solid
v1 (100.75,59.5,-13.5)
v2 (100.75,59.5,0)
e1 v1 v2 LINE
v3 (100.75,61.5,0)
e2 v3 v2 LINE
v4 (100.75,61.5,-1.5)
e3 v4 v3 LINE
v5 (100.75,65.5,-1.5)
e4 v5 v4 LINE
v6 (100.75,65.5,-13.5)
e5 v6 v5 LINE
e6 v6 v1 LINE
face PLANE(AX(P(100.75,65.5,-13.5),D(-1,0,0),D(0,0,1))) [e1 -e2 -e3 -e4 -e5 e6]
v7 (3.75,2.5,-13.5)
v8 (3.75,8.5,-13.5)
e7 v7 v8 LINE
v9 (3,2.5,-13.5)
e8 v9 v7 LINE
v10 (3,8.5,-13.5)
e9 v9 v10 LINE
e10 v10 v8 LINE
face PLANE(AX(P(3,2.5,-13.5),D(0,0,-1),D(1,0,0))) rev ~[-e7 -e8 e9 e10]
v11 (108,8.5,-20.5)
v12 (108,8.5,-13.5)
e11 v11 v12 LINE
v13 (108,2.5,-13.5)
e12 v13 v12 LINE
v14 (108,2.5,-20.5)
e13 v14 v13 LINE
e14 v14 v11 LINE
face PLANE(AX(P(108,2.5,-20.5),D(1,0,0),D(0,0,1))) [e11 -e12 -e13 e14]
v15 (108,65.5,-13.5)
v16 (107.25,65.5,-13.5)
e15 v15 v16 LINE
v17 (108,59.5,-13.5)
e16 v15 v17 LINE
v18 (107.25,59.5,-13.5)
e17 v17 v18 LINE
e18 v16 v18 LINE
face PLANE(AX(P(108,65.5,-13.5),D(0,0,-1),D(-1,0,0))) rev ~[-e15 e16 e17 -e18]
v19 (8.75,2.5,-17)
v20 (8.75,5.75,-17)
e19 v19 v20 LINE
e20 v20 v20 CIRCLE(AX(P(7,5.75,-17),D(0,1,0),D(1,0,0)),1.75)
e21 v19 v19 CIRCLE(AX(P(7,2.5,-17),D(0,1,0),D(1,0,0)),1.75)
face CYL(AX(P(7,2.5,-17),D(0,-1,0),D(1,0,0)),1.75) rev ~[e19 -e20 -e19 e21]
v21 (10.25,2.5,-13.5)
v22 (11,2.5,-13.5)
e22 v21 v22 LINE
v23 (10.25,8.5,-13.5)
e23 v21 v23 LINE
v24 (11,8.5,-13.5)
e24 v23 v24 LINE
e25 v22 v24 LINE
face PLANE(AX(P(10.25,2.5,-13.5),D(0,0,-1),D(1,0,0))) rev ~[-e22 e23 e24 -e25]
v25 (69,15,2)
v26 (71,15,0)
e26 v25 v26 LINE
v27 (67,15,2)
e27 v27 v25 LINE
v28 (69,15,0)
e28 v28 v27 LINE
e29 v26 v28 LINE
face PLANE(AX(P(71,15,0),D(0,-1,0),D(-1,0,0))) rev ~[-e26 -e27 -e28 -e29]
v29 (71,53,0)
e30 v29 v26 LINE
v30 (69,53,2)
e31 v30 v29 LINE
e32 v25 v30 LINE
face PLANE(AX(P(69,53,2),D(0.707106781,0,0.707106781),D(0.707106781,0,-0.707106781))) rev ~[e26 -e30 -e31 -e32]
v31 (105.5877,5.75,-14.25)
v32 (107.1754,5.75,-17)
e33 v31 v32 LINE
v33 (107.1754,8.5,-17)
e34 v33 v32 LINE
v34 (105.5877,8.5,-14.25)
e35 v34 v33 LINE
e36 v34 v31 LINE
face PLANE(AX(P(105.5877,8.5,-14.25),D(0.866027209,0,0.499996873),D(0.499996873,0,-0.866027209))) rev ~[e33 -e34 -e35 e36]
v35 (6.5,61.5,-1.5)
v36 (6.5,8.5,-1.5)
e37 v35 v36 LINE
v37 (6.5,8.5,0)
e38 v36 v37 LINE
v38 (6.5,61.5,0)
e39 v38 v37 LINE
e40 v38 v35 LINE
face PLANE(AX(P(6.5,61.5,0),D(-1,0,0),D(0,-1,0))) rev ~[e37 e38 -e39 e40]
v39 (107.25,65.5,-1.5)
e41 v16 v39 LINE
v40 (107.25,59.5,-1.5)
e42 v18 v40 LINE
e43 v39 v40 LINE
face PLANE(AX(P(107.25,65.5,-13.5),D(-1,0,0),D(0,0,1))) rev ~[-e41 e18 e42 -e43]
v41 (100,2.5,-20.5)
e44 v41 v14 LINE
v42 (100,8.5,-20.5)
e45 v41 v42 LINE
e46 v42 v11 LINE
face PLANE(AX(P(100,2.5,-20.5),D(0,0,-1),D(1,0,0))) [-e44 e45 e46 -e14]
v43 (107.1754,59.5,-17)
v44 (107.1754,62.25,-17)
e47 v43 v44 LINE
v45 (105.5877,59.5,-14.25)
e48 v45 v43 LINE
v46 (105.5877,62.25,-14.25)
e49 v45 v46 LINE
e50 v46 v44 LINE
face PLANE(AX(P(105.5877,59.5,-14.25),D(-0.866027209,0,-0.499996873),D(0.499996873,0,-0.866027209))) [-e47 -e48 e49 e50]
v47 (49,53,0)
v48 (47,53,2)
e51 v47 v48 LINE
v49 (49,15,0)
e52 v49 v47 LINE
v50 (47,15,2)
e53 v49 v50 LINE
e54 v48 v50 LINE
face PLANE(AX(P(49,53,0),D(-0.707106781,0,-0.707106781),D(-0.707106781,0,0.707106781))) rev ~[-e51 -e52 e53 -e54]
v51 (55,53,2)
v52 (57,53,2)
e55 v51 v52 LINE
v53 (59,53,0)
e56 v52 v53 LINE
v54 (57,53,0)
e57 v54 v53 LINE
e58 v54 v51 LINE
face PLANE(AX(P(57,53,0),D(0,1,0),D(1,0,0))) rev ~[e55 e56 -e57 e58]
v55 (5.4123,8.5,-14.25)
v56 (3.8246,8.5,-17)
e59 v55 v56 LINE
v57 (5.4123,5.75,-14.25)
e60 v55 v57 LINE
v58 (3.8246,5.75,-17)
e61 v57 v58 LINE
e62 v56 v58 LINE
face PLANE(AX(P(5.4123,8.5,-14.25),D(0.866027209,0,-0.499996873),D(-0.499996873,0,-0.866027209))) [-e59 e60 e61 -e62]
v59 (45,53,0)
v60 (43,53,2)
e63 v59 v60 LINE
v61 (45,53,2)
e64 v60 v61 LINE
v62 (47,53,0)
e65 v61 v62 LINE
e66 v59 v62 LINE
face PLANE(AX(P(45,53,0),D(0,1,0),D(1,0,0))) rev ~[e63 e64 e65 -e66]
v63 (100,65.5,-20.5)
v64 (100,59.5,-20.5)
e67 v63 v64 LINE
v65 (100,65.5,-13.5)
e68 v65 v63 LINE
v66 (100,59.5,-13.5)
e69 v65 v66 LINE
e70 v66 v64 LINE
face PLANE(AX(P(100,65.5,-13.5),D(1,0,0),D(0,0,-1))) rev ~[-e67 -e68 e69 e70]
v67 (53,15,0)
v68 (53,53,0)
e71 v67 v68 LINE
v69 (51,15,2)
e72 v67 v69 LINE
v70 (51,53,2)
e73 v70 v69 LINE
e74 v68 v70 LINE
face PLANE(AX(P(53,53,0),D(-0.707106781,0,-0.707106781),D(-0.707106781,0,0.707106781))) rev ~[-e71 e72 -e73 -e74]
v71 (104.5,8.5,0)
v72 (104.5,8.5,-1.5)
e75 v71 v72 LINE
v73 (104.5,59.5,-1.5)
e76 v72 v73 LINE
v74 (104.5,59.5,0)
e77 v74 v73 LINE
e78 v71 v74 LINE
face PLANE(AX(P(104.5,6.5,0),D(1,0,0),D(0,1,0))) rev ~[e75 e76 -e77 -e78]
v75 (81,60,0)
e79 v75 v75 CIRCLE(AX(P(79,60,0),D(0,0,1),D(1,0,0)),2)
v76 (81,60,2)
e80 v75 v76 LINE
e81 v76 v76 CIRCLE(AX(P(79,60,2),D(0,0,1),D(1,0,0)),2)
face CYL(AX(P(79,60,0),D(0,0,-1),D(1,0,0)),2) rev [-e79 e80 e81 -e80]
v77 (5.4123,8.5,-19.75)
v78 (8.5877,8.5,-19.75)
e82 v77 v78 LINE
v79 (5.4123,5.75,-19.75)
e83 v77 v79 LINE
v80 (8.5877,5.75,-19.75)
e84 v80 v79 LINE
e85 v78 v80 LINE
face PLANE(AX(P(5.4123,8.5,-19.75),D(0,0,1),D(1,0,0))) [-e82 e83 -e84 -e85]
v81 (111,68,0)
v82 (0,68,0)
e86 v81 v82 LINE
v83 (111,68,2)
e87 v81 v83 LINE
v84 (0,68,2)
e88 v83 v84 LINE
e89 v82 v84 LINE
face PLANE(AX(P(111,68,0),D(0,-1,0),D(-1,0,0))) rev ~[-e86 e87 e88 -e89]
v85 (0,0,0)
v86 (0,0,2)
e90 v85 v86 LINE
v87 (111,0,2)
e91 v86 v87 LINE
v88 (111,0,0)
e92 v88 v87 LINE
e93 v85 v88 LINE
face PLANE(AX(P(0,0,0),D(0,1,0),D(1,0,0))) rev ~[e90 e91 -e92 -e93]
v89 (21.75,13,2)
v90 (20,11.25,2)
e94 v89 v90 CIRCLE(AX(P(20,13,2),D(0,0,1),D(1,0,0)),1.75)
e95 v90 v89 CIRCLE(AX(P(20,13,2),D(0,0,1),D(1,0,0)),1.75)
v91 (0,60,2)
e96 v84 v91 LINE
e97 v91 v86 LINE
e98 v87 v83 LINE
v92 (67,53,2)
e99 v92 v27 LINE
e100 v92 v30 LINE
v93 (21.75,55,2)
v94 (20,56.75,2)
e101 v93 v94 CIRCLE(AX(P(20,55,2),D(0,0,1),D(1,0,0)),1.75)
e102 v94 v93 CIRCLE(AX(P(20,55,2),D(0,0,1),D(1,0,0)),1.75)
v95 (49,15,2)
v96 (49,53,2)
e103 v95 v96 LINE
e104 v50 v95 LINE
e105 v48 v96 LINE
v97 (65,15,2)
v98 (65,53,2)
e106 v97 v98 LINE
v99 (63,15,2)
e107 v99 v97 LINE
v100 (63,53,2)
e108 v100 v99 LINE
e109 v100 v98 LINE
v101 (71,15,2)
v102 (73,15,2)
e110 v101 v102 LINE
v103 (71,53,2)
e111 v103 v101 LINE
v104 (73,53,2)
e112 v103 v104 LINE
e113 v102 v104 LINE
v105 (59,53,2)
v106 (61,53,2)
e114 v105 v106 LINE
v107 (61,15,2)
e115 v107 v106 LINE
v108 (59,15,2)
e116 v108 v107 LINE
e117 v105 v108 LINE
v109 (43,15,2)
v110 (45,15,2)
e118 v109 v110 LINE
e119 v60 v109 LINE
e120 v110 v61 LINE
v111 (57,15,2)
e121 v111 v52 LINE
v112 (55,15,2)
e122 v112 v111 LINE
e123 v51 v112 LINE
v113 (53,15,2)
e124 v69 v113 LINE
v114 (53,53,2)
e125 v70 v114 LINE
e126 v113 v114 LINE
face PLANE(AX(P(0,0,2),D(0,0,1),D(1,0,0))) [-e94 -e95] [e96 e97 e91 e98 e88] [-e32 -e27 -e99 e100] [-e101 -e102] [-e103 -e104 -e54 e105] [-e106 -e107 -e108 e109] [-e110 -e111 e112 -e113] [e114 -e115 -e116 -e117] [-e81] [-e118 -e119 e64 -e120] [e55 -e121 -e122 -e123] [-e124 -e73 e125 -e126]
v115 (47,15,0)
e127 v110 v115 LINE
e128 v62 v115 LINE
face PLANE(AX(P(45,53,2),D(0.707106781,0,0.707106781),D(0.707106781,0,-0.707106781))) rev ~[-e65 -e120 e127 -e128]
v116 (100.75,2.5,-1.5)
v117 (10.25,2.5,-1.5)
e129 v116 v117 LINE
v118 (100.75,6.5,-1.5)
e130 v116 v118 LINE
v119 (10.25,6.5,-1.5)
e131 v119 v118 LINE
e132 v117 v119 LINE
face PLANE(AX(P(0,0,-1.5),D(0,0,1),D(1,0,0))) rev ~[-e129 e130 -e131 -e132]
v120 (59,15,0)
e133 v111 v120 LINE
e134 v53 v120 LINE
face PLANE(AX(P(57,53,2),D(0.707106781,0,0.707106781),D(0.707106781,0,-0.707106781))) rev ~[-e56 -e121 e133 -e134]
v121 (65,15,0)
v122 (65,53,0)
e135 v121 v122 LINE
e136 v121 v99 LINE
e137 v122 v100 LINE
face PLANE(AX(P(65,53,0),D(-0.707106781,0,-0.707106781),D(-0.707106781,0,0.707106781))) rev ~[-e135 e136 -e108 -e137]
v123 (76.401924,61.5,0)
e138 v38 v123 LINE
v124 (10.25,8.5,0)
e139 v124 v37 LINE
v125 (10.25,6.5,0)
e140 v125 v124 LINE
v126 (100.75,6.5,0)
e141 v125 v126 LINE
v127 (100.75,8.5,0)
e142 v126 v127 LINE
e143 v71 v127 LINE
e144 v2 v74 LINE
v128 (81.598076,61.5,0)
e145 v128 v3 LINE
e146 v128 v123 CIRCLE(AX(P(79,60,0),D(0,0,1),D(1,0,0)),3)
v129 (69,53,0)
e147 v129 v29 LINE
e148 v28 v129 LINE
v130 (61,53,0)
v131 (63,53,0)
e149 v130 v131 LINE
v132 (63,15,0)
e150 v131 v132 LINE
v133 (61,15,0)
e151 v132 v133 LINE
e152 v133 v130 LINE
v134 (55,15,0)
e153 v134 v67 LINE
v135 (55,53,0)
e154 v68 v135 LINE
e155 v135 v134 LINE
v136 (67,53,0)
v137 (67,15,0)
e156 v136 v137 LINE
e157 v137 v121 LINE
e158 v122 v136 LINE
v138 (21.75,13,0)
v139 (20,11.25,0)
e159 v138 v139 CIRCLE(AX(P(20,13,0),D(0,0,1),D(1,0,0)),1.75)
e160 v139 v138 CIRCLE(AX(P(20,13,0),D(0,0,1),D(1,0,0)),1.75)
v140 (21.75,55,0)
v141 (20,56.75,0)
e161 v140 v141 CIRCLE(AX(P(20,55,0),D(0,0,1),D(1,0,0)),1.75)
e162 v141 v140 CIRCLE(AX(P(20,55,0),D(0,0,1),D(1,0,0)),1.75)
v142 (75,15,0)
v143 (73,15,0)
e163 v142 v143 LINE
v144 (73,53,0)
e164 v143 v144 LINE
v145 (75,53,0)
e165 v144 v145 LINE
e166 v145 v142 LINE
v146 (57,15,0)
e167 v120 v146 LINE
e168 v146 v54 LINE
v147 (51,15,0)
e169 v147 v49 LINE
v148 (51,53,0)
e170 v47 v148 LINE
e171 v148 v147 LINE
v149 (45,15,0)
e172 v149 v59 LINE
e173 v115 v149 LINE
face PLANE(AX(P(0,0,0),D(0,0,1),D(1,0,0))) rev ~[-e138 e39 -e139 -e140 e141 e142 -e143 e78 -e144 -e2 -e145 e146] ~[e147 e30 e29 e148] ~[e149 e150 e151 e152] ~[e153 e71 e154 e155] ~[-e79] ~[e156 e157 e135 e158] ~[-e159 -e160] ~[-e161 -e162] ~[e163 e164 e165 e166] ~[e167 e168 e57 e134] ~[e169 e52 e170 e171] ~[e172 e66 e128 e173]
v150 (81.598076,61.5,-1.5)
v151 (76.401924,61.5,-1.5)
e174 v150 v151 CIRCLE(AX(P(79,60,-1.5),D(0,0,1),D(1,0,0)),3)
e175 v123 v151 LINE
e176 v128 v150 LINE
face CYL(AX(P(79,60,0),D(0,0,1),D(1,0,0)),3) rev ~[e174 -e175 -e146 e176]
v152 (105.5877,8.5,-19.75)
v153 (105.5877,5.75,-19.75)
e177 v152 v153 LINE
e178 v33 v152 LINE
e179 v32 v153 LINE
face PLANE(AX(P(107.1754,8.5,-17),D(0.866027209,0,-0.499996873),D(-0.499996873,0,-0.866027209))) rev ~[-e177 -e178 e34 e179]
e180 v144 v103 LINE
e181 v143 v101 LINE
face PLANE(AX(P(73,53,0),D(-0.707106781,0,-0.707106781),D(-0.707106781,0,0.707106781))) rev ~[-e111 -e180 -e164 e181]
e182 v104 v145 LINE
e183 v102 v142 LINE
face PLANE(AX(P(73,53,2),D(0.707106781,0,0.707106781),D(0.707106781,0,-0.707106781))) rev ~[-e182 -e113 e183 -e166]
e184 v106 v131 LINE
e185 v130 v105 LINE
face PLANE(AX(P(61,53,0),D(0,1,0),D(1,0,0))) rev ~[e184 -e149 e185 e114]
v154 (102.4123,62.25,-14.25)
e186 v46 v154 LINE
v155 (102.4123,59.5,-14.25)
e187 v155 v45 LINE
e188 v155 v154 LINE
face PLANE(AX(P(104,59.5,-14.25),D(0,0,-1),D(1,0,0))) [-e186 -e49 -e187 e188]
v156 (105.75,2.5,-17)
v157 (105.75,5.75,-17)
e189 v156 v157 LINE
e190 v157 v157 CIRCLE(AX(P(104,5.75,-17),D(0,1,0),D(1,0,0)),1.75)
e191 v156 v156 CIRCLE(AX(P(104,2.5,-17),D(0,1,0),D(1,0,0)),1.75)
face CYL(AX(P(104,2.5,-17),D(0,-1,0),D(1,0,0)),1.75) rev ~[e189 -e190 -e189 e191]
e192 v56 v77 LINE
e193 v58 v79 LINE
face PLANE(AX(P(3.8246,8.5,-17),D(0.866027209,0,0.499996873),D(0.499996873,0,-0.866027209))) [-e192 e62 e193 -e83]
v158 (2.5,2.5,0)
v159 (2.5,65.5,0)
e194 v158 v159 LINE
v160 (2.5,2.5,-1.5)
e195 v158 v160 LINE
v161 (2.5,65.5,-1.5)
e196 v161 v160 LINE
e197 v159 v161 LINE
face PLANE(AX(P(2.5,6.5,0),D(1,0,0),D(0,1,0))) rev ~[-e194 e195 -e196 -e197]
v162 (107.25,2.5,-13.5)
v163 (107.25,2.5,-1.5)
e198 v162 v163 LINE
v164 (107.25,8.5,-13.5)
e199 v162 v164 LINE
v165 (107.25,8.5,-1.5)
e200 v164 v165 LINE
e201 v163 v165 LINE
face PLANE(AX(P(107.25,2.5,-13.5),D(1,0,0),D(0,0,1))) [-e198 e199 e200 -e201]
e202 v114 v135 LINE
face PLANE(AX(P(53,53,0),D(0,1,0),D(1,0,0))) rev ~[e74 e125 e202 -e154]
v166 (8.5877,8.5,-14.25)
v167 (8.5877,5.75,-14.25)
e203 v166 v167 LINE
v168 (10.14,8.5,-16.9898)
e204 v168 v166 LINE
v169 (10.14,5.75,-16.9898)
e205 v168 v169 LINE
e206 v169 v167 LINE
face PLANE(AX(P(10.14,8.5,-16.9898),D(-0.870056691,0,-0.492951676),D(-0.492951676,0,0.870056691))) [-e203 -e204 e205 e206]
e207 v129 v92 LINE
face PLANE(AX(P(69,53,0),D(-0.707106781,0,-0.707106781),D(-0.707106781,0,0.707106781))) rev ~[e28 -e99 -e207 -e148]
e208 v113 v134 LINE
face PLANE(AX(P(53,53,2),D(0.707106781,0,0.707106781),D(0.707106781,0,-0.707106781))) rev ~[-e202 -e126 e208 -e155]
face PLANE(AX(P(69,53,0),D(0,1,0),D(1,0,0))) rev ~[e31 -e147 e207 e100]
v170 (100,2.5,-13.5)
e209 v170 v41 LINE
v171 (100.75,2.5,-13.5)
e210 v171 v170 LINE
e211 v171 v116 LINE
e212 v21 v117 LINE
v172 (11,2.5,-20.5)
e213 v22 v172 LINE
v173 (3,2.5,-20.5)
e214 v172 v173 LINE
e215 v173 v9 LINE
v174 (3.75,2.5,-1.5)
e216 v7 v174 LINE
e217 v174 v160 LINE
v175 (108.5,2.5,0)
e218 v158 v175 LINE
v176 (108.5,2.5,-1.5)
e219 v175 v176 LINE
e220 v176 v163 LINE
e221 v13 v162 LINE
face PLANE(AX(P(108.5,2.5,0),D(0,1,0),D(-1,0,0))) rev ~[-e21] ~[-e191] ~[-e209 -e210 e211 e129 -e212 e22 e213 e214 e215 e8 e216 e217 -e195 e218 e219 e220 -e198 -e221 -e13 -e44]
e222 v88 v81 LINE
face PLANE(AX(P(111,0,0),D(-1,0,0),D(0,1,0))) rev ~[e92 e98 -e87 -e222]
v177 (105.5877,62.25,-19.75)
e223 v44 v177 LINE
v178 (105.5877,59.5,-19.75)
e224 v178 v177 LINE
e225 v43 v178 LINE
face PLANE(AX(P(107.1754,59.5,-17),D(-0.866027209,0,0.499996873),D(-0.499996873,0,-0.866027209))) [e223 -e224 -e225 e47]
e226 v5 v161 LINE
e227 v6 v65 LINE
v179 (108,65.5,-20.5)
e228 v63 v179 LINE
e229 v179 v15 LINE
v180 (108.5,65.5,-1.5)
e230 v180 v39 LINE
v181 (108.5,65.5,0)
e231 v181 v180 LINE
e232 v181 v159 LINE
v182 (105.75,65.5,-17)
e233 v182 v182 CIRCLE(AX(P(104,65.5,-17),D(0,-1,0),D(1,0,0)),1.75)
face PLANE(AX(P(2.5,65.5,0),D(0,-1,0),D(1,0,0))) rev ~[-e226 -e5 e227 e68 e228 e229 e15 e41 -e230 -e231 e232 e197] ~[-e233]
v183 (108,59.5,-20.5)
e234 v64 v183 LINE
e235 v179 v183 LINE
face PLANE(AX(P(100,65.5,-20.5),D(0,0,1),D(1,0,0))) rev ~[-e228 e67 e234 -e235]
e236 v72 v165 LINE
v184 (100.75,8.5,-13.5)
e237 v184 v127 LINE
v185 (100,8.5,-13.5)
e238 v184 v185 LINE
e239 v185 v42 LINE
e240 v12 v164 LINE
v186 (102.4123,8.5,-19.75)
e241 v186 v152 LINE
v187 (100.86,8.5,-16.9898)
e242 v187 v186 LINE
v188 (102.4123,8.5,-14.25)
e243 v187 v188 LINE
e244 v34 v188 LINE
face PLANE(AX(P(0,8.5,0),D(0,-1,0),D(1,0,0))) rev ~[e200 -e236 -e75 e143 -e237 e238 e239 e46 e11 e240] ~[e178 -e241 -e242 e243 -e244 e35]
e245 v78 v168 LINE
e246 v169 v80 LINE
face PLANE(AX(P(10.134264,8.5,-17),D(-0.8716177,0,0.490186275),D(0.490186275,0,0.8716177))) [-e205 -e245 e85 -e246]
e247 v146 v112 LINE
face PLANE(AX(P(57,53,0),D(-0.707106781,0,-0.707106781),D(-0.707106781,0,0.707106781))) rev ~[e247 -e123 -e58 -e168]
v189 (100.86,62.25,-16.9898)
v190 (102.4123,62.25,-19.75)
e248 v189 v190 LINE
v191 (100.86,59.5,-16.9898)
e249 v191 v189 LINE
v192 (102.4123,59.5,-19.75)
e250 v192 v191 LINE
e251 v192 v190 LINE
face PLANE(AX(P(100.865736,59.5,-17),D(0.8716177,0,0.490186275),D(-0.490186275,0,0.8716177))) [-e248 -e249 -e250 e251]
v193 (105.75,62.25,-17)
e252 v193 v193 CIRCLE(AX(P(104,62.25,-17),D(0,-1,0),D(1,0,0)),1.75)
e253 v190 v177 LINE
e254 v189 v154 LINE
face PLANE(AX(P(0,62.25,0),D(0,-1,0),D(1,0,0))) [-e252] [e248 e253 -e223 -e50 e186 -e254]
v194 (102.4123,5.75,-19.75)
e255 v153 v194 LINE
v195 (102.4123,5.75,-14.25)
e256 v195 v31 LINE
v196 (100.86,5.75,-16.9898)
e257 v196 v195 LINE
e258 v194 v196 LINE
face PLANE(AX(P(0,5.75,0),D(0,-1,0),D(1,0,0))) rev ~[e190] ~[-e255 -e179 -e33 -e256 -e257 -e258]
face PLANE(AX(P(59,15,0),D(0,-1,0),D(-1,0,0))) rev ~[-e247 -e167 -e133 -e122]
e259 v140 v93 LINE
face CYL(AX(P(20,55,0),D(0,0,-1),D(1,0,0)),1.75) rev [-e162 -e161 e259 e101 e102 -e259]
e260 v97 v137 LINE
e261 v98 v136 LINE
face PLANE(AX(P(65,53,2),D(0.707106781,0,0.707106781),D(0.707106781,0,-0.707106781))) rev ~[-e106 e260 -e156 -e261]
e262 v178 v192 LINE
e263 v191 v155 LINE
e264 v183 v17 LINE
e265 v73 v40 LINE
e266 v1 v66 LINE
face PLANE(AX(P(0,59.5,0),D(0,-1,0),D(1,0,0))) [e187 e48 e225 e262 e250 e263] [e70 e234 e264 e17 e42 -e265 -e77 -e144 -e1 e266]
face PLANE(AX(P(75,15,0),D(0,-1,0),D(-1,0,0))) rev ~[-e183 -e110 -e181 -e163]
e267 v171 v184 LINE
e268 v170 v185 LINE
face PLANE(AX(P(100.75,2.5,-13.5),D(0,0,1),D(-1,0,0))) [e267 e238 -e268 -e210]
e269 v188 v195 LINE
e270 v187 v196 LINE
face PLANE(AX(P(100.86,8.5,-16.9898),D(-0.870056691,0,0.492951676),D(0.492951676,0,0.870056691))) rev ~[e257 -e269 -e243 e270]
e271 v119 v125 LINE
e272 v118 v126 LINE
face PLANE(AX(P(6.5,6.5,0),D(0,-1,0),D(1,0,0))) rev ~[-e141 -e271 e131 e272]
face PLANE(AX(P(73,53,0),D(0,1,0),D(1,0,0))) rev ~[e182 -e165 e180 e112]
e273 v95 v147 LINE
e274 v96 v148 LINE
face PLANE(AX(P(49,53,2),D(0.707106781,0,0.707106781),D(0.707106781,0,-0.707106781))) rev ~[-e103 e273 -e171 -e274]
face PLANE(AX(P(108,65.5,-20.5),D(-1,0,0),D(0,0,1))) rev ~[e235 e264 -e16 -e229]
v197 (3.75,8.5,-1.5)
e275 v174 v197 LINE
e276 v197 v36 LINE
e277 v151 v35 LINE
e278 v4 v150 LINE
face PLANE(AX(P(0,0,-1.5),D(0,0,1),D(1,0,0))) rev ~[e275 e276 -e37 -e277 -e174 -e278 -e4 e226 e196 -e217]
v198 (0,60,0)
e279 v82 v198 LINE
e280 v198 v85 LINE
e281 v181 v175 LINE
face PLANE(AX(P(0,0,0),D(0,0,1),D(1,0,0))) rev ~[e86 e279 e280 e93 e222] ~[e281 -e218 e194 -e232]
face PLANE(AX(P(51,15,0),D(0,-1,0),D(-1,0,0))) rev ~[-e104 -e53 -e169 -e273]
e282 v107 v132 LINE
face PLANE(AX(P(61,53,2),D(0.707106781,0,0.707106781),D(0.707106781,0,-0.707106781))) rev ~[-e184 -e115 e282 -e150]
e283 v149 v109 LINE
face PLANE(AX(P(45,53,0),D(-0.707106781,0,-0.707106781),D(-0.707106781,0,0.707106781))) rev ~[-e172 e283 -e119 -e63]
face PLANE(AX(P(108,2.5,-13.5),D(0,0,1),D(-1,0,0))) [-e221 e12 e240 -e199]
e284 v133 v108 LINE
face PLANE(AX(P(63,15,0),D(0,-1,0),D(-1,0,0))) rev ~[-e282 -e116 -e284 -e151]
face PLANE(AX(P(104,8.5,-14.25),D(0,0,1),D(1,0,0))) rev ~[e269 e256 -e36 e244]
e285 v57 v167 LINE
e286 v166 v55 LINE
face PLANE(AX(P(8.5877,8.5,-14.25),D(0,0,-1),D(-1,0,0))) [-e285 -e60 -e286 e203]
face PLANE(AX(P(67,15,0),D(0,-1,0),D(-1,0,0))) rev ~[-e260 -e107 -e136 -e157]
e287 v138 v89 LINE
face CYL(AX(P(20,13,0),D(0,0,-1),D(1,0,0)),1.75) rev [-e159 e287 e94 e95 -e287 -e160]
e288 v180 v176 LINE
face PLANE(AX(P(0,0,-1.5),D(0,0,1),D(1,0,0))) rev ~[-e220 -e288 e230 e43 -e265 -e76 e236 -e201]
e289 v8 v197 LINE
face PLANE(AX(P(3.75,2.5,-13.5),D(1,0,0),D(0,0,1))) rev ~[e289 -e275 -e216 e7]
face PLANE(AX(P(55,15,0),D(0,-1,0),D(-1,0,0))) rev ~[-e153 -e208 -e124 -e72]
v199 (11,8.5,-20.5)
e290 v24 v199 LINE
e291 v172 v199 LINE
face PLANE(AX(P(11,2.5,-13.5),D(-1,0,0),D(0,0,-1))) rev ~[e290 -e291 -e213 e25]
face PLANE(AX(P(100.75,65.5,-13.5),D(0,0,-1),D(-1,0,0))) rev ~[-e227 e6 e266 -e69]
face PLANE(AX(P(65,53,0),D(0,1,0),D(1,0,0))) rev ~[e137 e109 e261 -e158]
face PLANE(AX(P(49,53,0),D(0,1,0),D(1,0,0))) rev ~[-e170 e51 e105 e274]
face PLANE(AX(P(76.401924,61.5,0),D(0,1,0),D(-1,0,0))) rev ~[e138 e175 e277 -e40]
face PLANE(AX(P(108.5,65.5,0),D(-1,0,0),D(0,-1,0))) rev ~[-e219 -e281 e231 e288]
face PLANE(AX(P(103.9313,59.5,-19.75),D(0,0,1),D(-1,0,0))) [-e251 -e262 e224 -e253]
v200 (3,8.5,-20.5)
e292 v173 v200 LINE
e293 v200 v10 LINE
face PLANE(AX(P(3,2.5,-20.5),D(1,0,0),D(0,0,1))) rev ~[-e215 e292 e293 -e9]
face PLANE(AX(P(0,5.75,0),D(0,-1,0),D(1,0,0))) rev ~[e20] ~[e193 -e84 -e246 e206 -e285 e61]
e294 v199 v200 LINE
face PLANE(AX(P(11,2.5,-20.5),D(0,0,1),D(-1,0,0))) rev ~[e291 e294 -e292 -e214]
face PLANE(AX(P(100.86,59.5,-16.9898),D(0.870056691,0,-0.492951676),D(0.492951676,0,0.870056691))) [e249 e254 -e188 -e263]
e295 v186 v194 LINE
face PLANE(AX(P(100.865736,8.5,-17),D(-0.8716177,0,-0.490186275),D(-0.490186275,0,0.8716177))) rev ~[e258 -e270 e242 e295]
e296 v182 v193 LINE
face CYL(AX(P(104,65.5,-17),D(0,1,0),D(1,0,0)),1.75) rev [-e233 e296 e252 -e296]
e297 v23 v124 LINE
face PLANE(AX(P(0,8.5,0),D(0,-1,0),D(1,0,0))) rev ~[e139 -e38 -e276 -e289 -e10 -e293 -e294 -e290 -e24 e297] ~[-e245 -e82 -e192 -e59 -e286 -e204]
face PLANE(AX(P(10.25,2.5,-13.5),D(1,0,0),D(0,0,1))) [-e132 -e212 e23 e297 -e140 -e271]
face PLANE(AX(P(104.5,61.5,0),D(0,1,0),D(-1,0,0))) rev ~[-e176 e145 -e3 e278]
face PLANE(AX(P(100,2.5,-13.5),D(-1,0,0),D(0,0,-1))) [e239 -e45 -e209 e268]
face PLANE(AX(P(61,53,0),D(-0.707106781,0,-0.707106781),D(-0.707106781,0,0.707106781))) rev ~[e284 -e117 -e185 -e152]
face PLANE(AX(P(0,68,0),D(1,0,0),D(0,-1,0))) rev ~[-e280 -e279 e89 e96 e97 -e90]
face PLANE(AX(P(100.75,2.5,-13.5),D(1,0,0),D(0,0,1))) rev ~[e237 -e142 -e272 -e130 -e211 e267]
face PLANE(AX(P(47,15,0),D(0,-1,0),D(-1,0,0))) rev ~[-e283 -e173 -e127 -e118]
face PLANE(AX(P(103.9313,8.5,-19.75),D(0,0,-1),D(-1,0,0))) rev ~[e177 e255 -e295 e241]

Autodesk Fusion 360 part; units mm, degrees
sketch "Skizze1" plane through (0, 0, 0) normal (0, 0, 1) x (1, 0, 0)
  line L0 (0, 0) -> (111, 0)
  line L1 (111, 0) -> (111, 68)
  line L2 (0, 68) -> (0, 0)
  line L3 (111, 68) -> (0, 68)
  circle A0 centre (79, 60) radius 2
  line L4 (2, 66) -> (109, 66)
  line L5 (109, 66) -> (109, 2)
  line L6 (109, 2) -> (2, 2)
  line L7 (2, 2) -> (2, 66)
  line L8 (2.5, 66) -> (2.5, 65.5)
  line L9 (2.5, 65.5) -> (2, 65.5)
  line L10 (108.5, 2) -> (108.5, 2.5)
  line L11 (108.5, 2.5) -> (109, 2.5)
  line L12 (2.5, 65.5) -> (108.5, 65.5)
  line L13 (108.5, 65.5) -> (108.5, 2.5)
  line L14 (108.5, 2.5) -> (2.5, 2.5)
  line L15 (2.5, 2.5) -> (2.5, 65.5)
  line L16 (5, 9) -> (35, 9)
  line L17 (35, 9) -> (35, 59)
  line L18 (35, 59) -> (5, 59)
  line L19 (5, 59) -> (5, 9)
  line L20 (20, 9) -> (20, 13)
  circle A1 centre (20, 13) radius 1.75
  line L21 (20, 59) -> (20, 55)
  circle A2 centre (20, 55) radius 1.75
  line L22 (75, 15) -> (73, 15)
  line L23 (73, 15) -> (73, 53)
  line L24 (73, 53) -> (75, 53)
  line L25 (75, 53) -> (75, 15)
  line L26 (71, 53) -> (71, 15)
  line L27 (71, 15) -> (69, 15)
  line L28 (69, 53) -> (71, 53)
  line L29 (69, 15) -> (69, 53)
  line L30 (67, 53) -> (67, 15)
  line L31 (67, 15) -> (65, 15)
  line L32 (65, 53) -> (67, 53)
  line L33 (65, 15) -> (65, 53)
  line L34 (63, 53) -> (63, 15)
  line L35 (63, 15) -> (61, 15)
  line L36 (61, 53) -> (63, 53)
  line L37 (61, 15) -> (61, 53)
  line L38 (59, 53) -> (59, 15)
  line L39 (59, 15) -> (57, 15)
  line L40 (57, 53) -> (59, 53)
  line L41 (57, 15) -> (57, 53)
  line L42 (55, 53) -> (55, 15)
  line L43 (55, 15) -> (53, 15)
  line L44 (53, 53) -> (55, 53)
  line L45 (53, 15) -> (53, 53)
  line L46 (51, 53) -> (51, 15)
  line L47 (51, 15) -> (49, 15)
  line L48 (49, 53) -> (51, 53)
  line L49 (49, 15) -> (49, 53)
  line L50 (47, 53) -> (47, 15)
  line L51 (47, 15) -> (45, 15)
  line L52 (45, 53) -> (47, 53)
  line L53 (45, 15) -> (45, 53)
  line L54 (0, 60) -> (77, 60)
  line L55 (79, 60) -> (79, 66)
  dimension "d9" = 111
  dimension "d10" = 68
  dimension "d13" = 4
  dimension "d30" = 0.5
  dimension "d31" = 0.5
  dimension "d32" = 30
  dimension "d33" = 50
  dimension "d34" = 3.5
  dimension "d35" = 4
  dimension "d36" = 3.5
  dimension "d72" = 2
  dimension "d73" = 38
  dimension "d76" = -28
  dimension "d77" = 0
  dimension "d110" = 77
  dimension "d111" = 6
extrude "Extrusion5" add sketch "Skizze1" along normal blind 2 contours L7 L9 L15 L54 | L6 L7 L10 L14 L15 L54 | L0 L1 L2 L3 | L4 L7 L8 L9 | A0 L12 L13 L14 L15 L54 L55 | A0 L12 L15 L54 L55 | L5 L6 L10 L11 | L4 L8 L12 L55 | L4 L5 L11 L12 L13 L55 | L16 L17 L18 L19
sketch "Skizze3" plane through (0, 53, 0) normal (0, -1, 0) x (1, 0, 0)
  line L0 (73, 0) -> (75, 0)
  line L1 (75, 0) -> (75, 2)
  line L2 (75, 2) -> (73, 2)
  line L3 (73, 2) -> (73, 0)
  line L4 (73, 2) -> (75, 0)
  line L5 (73, 0) -> (71, 2)
  line L6 (71, 2) -> (73, 2)
  line L7 (75, 0) -> (73, 0)
  line L8 (73, 0) -> (71.183, 0)
  line L9 (71.183, 0) -> (71, 2)
  line L10 (71.183, 0) -> (71, 2)
  line L11 (75, 0) -> (75, 2)
  line L12 (73, 2) -> (75, 2)
  line L13 (69, 0) -> (67, 2)
  line L14 (71, 0) -> (71, 2)
  line L15 (69, 2) -> (69, 0)
  line L16 (71, 2) -> (69, 2)
  line L17 (69, 2) -> (71, 2)
  line L18 (71, 0) -> (71, 2)
  line L19 (69, 0) -> (67.183, 0)
  line L20 (69, 2) -> (71, 0)
  line L21 (69, 0) -> (71, 0)
  line L22 (67.183, 0) -> (67, 2)
  line L23 (67, 2) -> (69, 2)
  line L24 (67.183, 0) -> (67, 2)
  line L25 (71, 0) -> (69, 0)
  line L26 (65, 0) -> (63, 2)
  line L27 (67, 0) -> (67, 2)
  line L28 (65, 2) -> (65, 0)
  line L29 (67, 2) -> (65, 2)
  line L30 (65, 2) -> (67, 2)
  line L31 (67, 0) -> (67, 2)
  line L32 (65, 0) -> (63.183, 0)
  line L33 (65, 2) -> (67, 0)
  line L34 (65, 0) -> (67, 0)
  line L35 (63.183, 0) -> (63, 2)
  line L36 (63, 2) -> (65, 2)
  line L37 (63.183, 0) -> (63, 2)
  line L38 (67, 0) -> (65, 0)
  line L39 (61, 0) -> (59, 2)
  line L40 (63, 0) -> (63, 2)
  line L41 (61, 2) -> (61, 0)
  line L42 (63, 2) -> (61, 2)
  line L43 (61, 2) -> (63, 2)
  line L44 (63, 0) -> (63, 2)
  line L45 (61, 0) -> (59.183, 0)
  line L46 (61, 2) -> (63, 0)
  line L47 (61, 0) -> (63, 0)
  line L48 (59.183, 0) -> (59, 2)
  line L49 (59, 2) -> (61, 2)
  line L50 (59.183, 0) -> (59, 2)
  line L51 (63, 0) -> (61, 0)
  line L52 (57, 0) -> (55, 2)
  line L53 (59, 0) -> (59, 2)
  line L54 (57, 2) -> (57, 0)
  line L55 (59, 2) -> (57, 2)
  line L56 (57, 2) -> (59, 2)
  line L57 (59, 0) -> (59, 2)
  line L58 (57, 0) -> (55.183, 0)
  line L59 (57, 2) -> (59, 0)
  line L60 (57, 0) -> (59, 0)
  line L61 (55.183, 0) -> (55, 2)
  line L62 (55, 2) -> (57, 2)
  line L63 (55.183, 0) -> (55, 2)
  line L64 (59, 0) -> (57, 0)
  line L65 (53, 0) -> (51, 2)
  line L66 (55, 0) -> (55, 2)
  line L67 (53, 2) -> (53, 0)
  line L68 (55, 2) -> (53, 2)
  line L69 (53, 2) -> (55, 2)
  line L70 (55, 0) -> (55, 2)
  line L71 (53, 0) -> (51.183, 0)
  line L72 (53, 2) -> (55, 0)
  line L73 (53, 0) -> (55, 0)
  line L74 (51.183, 0) -> (51, 2)
  line L75 (51, 2) -> (53, 2)
  line L76 (51.183, 0) -> (51, 2)
  line L77 (55, 0) -> (53, 0)
  line L78 (49, 0) -> (47, 2)
  line L79 (51, 0) -> (51, 2)
  line L80 (49, 2) -> (49, 0)
  line L81 (51, 2) -> (49, 2)
  line L82 (49, 2) -> (51, 2)
  line L83 (51, 0) -> (51, 2)
  line L84 (49, 0) -> (47.183, 0)
  line L85 (49, 2) -> (51, 0)
  line L86 (49, 0) -> (51, 0)
  line L87 (47.183, 0) -> (47, 2)
  line L88 (47, 2) -> (49, 2)
  line L89 (47.183, 0) -> (47, 2)
  line L90 (51, 0) -> (49, 0)
  line L91 (45, 0) -> (43, 2)
  line L92 (47, 0) -> (47, 2)
  line L93 (45, 2) -> (45, 0)
  line L94 (47, 2) -> (45, 2)
  line L95 (45, 2) -> (47, 2)
  line L96 (47, 0) -> (47, 2)
  line L97 (45, 0) -> (43.183, 0)
  line L98 (45, 2) -> (47, 0)
  line L99 (45, 0) -> (47, 0)
  line L100 (43.183, 0) -> (43, 2)
  line L101 (43, 2) -> (45, 2)
  line L102 (43.183, 0) -> (43, 2)
  line L103 (47, 0) -> (45, 0)
  dimension "d80" = -28
  dimension "d81" = 0
extrude "Extrusion8" add sketch "Skizze3" along normal blind 38 contours L92 L94 L95 L96 L98 | L79 L81 L82 L83 L85 | L66 L68 L69 L70 L72 | L53 L55 L56 L57 L59 | L40 L42 L43 L44 L46 | L27 L29 L30 L31 L33 | L14 L16 L17 L18 L20 | L1 L2 L4 L11 L12
extrude "Extrusion9" cut sketch "Skizze3" along normal blind 38 contours L0 L3 L4 L7 | L3 L5 L6 | L15 L20 L21 L25 | L13 L15 L23 | L28 L33 L34 L38 | L26 L28 L36 | L41 L46 L47 L51 | L39 L41 L49 | L54 L59 L60 L64 | L52 L54 L62 | L67 L72 L73 L77 | L65 L67 L75 | L80 L85 L86 L90 | L78 L80 L88 | L93 L98 L99 L103 | L91 L93 L101
sketch "Skizze5" plane through (0, 0, 0) normal (0, 0, 1) x (1, 0, 0)
  line L0 (111, 68) -> (0, 68)
  line L1 (2, 66) -> (109, 66)
  line L2 (108.5, 2) -> (108.5, 2.5)
  line L3 (108.5, 2.5) -> (2.5, 2.5)
  line L4 (0, 0) -> (111, 0)
  line L5 (109, 66) -> (109, 2)
  line L6 (108.5, 2.5) -> (109, 2.5)
  line L7 (2.5, 65.5) -> (108.5, 65.5)
  line L8 (111, 0) -> (111, 68)
  line L9 (2.5, 66) -> (2.5, 65.5)
  line L10 (108.5, 65.5) -> (108.5, 2.5)
  line L11 (109, 2) -> (2, 2)
  line L12 (2, 2) -> (2, 66)
  line L13 (2.5, 65.5) -> (2, 65.5)
  line L14 (0, 68) -> (0, 0)
  line L15 (2.5, 2.5) -> (2.5, 65.5)
  line L16 (108.5, 65.5) -> (104.5, 65.5)
  line L17 (104.5, 65.5) -> (104.5, 61.5)
  line L18 (2.5, 2.5) -> (2.5, 6.5)
  line L19 (2.5, 6.5) -> (6.5, 6.5)
  line L20 (104.5, 61.5) -> (6.5, 61.5)
  line L21 (6.5, 61.5) -> (6.5, 6.5)
  line L22 (6.5, 6.5) -> (104.5, 6.5)
  line L23 (104.5, 6.5) -> (104.5, 61.5)
  circle A0 centre (79, 60) radius 2
  circle A1 centre (79, 60) radius 3
  line L24 (82.5, 61.5) -> (75, 61.5)
  dimension "d138" = 111
  dimension "d139" = 68
  dimension "d141" = 0.5
  dimension "d142" = 0.5
  dimension "d152" = 4
  dimension "d153" = 4
  dimension "d154" = 4
  dimension "d155" = 4
  dimension "d156" = 6
extrude "Extrusion15" add sketch "Skizze5" against normal blind 1.5 contours L7 L15 L17 L19 L20 L21 A1 L24 | L3 L7 L10 L15 L16 L17 L18 L19 L22 L23
sketch "Skizze2" plane through (0, 0, 0) normal (0, -1, 0) x (1, 0, 0)
  line L0 (0, 0) -> (111, 0)
  line L1 (111, 2) -> (0, 2)
  line L2 (0, 2) -> (0, 0)
  circle A0 centre (7, -17) radius 1.75
  line L3 (8.75, -17) -> (10.25, -17)
  line L4 (7.0687, -18.7487) -> (7.0687, -20.2487)
  line L5 (5.25, -17) -> (3.75, -17)
  line L6 (3.75, -17) -> (3.75, -20.25)
  line L7 (3.75, -20.25) -> (7.0687, -20.2487)
  line L8 (7.0687, -20.2487) -> (10.25, -20.25)
  line L9 (10.25, -20.25) -> (10.25, -17)
  line L10 (3.75, -17) -> (3.75, 0)
  line L11 (10.25, -17) -> (10.25, 0)
  line L12 (0, 0) -> (7, 0)
  line L13 (7, 0) -> (7, -17)
  line L14 (55.5, 0) -> (55.5, -30)
  line L15 (0, 0) -> (111, 0)
  line L16 (111, 2) -> (0, 2)
  line L17 (0, 2) -> (0, 0)
  line L18 (5.4123, -14.25) -> (3.8246, -17)
  line L19 (3.8246, -17) -> (5.4123, -19.75)
  line L20 (5.4123, -19.75) -> (8.5877, -19.75)
  line L21 (8.5877, -19.75) -> (10.14, -16.9898)
  line L22 (10.14, -16.9898) -> (8.5877, -14.25)
  line L23 (8.5877, -14.25) -> (5.4123, -14.25)
  line L24 (3, -13.5) -> (11, -13.5)
  line L25 (11, -13.5) -> (11, -20.5)
  line L26 (11, -20.5) -> (3, -20.5)
  line L27 (3, -20.5) -> (3, -13.5)
  line L28 (105.5877, -14.25) -> (107.1754, -17)
  line L29 (100.75, -20.25) -> (100.75, -17)
  line L30 (100, -20.5) -> (108, -20.5)
  line L31 (100.86, -16.9898) -> (102.4123, -14.25)
  line L32 (102.4123, -19.75) -> (100.86, -16.9898)
  line L33 (102.25, -17) -> (100.75, -17)
  line L34 (107.25, -20.25) -> (103.9313, -20.2487)
  line L35 (104, 0) -> (104, -17)
  line L36 (108, -20.5) -> (108, -13.5)
  line L37 (103.9313, -20.2487) -> (100.75, -20.25)
  line L38 (102.4123, -14.25) -> (105.5877, -14.25)
  line L39 (107.1754, -17) -> (105.5877, -19.75)
  circle A1 centre (104, -17) radius 1.75
  line L40 (105.5877, -19.75) -> (102.4123, -19.75)
  line L41 (107.25, -17) -> (107.25, 0)
  line L42 (103.9313, -18.7487) -> (103.9313, -20.2487)
  line L43 (105.75, -17) -> (107.25, -17)
  line L44 (100.75, -17) -> (100.75, 0)
  line L45 (108, -13.5) -> (100, -13.5)
  line L46 (107.25, -17) -> (107.25, -20.25)
  line L47 (100, -13.5) -> (100, -20.5)
  dimension "d46" = 3.5
  dimension "d56" = 1.5
  dimension "d57" = 1.5
  dimension "d58" = 1.5
  dimension "d59" = 7
  dimension "d96" = 8
  dimension "d97" = 7
extrude "Extrusion16" add sketch "Skizze2" against normal blind 6 from surface at -2.5 contours L0 L15 L35 L44 L45 | L0 L10 L12 L13 L15 L24 | L0 L11 L13 L15 L24 | L5 L10 L13 L18 L23 L24 | L6 L7 L8 L9 L10 L11 L24 L25 L26 L27 | L3 L11 L13 L21 L22 L23 L24 | L4 L5 L6 L7 L19 L20 | A0 L3 L13 L21 L22 L23 | A0 L5 L13 L18 L23 | A0 L4 L5 L19 L20 | L3 L4 L8 L9 L20 L21 | L0 L15 L35 L41 L45 | L31 L32 L33 L35 L38 L44 L45 | L29 L30 L34 L36 L37 L41 L44 L45 L46 L47 | A0 L3 L4 L20 L21 | L28 L35 L38 L41 L43 L45 | L29 L32 L33 L37 L40 L42 | L28 L35 L38 A1 L43 | L31 L32 L33 L35 L38 A1 | L32 L33 A1 L40 L42 | L34 L39 L40 L42 L43 L46 | L39 A1 L40 L42 L43
extrude "Extrusion17" cut sketch "Skizze2" along normal blind 2.75 from surface at -8.5 contours A0 L3 L13 L21 L22 L23 | A0 L5 L13 L18 L23 | A0 L4 L5 L19 L20 | A0 L3 L4 L20 L21 | L28 L35 L38 A1 L43 | L31 L32 L33 L35 L38 A1 | L32 L33 A1 L40 L42 | L39 A1 L40 L42 L43
extrude "Extrusion18" add sketch "Skizze2" along normal blind 6 from surface at -65.5 contours L0 L15 L35 L44 L45 | L0 L15 L35 L41 L45 | L31 L32 L33 L35 L38 L44 L45 | L29 L30 L34 L36 L37 L41 L44 L45 L46 L47 | L28 L35 L38 L41 L43 L45 | L29 L32 L33 L37 L40 L42 | L28 L35 L38 A1 L43 | L31 L32 L33 L35 L38 A1 | L32 L33 A1 L40 L42 | L34 L39 L40 L42 L43 L46 | L39 A1 L40 L42 L43
extrude "Extrusion19" cut sketch "Skizze2" against normal blind 2.75 from surface at -59.5 contours L28 L35 L38 A1 L43 | L31 L32 L33 L35 L38 A1 | L32 L33 A1 L40 L42 | L39 A1 L40 L42 L43
sketch "Skizze6" plane through (0, 0, 0) normal (0, 0, -1) x (1, 0, 0)
  line L0 (100.75, -61.5) -> (100.75, -59.5)
  line L1 (100.75, -59.5) -> (104.5, -59.5)
  line L2 (104.5, -59.5) -> (104.5, -8.5)
  line L3 (104.5, -8.5) -> (100.75, -8.5)
  line L4 (100.75, -8.5) -> (100.75, -6.5)
  line L5 (100.75, -6.5) -> (10.25, -6.5)
  line L6 (10.25, -6.5) -> (10.25, -8.5)
  line L7 (10.25, -8.5) -> (6.5, -8.5)
  line L8 (6.5, -8.5) -> (6.5, -61.5)
  line L9 (6.5, -61.5) -> (76.4019, -61.5)
  arc A0 (76.4019, -61.5) -> (81.5981, -61.5) centre (79, -60) ccw
  line L10 (81.5981, -61.5) -> (100.75, -61.5)
  line L11 (61, -15) -> (63, -15)
  line L12 (63, -15) -> (63, -53)
  line L13 (63, -53) -> (61, -53)
  line L14 (61, -53) -> (61, -15)
  line L15 (75, -53) -> (73, -53)
  line L16 (73, -53) -> (73, -15)
  line L17 (73, -15) -> (75, -15)
  line L18 (75, -15) -> (75, -53)
  line L19 (49, -15) -> (51, -15)
  line L20 (51, -15) -> (51, -53)
  line L21 (51, -53) -> (49, -53)
  line L22 (49, -53) -> (49, -15)
  line L23 (69, -15) -> (71, -15)
  line L24 (71, -15) -> (71, -53)
  line L25 (71, -53) -> (69, -53)
  line L26 (69, -53) -> (69, -15)
  line L27 (53, -15) -> (55, -15)
  line L28 (55, -15) -> (55, -53)
  line L29 (55, -53) -> (53, -53)
  line L30 (53, -53) -> (53, -15)
  circle A1 centre (79, -60) radius 2
  line L31 (57, -15) -> (59, -15)
  line L32 (59, -15) -> (59, -53)
  line L33 (59, -53) -> (57, -53)
  line L34 (57, -53) -> (57, -15)
  circle A2 centre (20, -13) radius 1.75
  line L35 (65, -15) -> (67, -15)
  line L36 (67, -15) -> (67, -53)
  line L37 (67, -53) -> (65, -53)
  line L38 (65, -53) -> (65, -15)
  circle A3 centre (20, -55) radius 1.75
  line L39 (45, -15) -> (47, -15)
  line L40 (47, -15) -> (47, -53)
  line L41 (47, -53) -> (45, -53)
  line L42 (45, -53) -> (45, -15)
